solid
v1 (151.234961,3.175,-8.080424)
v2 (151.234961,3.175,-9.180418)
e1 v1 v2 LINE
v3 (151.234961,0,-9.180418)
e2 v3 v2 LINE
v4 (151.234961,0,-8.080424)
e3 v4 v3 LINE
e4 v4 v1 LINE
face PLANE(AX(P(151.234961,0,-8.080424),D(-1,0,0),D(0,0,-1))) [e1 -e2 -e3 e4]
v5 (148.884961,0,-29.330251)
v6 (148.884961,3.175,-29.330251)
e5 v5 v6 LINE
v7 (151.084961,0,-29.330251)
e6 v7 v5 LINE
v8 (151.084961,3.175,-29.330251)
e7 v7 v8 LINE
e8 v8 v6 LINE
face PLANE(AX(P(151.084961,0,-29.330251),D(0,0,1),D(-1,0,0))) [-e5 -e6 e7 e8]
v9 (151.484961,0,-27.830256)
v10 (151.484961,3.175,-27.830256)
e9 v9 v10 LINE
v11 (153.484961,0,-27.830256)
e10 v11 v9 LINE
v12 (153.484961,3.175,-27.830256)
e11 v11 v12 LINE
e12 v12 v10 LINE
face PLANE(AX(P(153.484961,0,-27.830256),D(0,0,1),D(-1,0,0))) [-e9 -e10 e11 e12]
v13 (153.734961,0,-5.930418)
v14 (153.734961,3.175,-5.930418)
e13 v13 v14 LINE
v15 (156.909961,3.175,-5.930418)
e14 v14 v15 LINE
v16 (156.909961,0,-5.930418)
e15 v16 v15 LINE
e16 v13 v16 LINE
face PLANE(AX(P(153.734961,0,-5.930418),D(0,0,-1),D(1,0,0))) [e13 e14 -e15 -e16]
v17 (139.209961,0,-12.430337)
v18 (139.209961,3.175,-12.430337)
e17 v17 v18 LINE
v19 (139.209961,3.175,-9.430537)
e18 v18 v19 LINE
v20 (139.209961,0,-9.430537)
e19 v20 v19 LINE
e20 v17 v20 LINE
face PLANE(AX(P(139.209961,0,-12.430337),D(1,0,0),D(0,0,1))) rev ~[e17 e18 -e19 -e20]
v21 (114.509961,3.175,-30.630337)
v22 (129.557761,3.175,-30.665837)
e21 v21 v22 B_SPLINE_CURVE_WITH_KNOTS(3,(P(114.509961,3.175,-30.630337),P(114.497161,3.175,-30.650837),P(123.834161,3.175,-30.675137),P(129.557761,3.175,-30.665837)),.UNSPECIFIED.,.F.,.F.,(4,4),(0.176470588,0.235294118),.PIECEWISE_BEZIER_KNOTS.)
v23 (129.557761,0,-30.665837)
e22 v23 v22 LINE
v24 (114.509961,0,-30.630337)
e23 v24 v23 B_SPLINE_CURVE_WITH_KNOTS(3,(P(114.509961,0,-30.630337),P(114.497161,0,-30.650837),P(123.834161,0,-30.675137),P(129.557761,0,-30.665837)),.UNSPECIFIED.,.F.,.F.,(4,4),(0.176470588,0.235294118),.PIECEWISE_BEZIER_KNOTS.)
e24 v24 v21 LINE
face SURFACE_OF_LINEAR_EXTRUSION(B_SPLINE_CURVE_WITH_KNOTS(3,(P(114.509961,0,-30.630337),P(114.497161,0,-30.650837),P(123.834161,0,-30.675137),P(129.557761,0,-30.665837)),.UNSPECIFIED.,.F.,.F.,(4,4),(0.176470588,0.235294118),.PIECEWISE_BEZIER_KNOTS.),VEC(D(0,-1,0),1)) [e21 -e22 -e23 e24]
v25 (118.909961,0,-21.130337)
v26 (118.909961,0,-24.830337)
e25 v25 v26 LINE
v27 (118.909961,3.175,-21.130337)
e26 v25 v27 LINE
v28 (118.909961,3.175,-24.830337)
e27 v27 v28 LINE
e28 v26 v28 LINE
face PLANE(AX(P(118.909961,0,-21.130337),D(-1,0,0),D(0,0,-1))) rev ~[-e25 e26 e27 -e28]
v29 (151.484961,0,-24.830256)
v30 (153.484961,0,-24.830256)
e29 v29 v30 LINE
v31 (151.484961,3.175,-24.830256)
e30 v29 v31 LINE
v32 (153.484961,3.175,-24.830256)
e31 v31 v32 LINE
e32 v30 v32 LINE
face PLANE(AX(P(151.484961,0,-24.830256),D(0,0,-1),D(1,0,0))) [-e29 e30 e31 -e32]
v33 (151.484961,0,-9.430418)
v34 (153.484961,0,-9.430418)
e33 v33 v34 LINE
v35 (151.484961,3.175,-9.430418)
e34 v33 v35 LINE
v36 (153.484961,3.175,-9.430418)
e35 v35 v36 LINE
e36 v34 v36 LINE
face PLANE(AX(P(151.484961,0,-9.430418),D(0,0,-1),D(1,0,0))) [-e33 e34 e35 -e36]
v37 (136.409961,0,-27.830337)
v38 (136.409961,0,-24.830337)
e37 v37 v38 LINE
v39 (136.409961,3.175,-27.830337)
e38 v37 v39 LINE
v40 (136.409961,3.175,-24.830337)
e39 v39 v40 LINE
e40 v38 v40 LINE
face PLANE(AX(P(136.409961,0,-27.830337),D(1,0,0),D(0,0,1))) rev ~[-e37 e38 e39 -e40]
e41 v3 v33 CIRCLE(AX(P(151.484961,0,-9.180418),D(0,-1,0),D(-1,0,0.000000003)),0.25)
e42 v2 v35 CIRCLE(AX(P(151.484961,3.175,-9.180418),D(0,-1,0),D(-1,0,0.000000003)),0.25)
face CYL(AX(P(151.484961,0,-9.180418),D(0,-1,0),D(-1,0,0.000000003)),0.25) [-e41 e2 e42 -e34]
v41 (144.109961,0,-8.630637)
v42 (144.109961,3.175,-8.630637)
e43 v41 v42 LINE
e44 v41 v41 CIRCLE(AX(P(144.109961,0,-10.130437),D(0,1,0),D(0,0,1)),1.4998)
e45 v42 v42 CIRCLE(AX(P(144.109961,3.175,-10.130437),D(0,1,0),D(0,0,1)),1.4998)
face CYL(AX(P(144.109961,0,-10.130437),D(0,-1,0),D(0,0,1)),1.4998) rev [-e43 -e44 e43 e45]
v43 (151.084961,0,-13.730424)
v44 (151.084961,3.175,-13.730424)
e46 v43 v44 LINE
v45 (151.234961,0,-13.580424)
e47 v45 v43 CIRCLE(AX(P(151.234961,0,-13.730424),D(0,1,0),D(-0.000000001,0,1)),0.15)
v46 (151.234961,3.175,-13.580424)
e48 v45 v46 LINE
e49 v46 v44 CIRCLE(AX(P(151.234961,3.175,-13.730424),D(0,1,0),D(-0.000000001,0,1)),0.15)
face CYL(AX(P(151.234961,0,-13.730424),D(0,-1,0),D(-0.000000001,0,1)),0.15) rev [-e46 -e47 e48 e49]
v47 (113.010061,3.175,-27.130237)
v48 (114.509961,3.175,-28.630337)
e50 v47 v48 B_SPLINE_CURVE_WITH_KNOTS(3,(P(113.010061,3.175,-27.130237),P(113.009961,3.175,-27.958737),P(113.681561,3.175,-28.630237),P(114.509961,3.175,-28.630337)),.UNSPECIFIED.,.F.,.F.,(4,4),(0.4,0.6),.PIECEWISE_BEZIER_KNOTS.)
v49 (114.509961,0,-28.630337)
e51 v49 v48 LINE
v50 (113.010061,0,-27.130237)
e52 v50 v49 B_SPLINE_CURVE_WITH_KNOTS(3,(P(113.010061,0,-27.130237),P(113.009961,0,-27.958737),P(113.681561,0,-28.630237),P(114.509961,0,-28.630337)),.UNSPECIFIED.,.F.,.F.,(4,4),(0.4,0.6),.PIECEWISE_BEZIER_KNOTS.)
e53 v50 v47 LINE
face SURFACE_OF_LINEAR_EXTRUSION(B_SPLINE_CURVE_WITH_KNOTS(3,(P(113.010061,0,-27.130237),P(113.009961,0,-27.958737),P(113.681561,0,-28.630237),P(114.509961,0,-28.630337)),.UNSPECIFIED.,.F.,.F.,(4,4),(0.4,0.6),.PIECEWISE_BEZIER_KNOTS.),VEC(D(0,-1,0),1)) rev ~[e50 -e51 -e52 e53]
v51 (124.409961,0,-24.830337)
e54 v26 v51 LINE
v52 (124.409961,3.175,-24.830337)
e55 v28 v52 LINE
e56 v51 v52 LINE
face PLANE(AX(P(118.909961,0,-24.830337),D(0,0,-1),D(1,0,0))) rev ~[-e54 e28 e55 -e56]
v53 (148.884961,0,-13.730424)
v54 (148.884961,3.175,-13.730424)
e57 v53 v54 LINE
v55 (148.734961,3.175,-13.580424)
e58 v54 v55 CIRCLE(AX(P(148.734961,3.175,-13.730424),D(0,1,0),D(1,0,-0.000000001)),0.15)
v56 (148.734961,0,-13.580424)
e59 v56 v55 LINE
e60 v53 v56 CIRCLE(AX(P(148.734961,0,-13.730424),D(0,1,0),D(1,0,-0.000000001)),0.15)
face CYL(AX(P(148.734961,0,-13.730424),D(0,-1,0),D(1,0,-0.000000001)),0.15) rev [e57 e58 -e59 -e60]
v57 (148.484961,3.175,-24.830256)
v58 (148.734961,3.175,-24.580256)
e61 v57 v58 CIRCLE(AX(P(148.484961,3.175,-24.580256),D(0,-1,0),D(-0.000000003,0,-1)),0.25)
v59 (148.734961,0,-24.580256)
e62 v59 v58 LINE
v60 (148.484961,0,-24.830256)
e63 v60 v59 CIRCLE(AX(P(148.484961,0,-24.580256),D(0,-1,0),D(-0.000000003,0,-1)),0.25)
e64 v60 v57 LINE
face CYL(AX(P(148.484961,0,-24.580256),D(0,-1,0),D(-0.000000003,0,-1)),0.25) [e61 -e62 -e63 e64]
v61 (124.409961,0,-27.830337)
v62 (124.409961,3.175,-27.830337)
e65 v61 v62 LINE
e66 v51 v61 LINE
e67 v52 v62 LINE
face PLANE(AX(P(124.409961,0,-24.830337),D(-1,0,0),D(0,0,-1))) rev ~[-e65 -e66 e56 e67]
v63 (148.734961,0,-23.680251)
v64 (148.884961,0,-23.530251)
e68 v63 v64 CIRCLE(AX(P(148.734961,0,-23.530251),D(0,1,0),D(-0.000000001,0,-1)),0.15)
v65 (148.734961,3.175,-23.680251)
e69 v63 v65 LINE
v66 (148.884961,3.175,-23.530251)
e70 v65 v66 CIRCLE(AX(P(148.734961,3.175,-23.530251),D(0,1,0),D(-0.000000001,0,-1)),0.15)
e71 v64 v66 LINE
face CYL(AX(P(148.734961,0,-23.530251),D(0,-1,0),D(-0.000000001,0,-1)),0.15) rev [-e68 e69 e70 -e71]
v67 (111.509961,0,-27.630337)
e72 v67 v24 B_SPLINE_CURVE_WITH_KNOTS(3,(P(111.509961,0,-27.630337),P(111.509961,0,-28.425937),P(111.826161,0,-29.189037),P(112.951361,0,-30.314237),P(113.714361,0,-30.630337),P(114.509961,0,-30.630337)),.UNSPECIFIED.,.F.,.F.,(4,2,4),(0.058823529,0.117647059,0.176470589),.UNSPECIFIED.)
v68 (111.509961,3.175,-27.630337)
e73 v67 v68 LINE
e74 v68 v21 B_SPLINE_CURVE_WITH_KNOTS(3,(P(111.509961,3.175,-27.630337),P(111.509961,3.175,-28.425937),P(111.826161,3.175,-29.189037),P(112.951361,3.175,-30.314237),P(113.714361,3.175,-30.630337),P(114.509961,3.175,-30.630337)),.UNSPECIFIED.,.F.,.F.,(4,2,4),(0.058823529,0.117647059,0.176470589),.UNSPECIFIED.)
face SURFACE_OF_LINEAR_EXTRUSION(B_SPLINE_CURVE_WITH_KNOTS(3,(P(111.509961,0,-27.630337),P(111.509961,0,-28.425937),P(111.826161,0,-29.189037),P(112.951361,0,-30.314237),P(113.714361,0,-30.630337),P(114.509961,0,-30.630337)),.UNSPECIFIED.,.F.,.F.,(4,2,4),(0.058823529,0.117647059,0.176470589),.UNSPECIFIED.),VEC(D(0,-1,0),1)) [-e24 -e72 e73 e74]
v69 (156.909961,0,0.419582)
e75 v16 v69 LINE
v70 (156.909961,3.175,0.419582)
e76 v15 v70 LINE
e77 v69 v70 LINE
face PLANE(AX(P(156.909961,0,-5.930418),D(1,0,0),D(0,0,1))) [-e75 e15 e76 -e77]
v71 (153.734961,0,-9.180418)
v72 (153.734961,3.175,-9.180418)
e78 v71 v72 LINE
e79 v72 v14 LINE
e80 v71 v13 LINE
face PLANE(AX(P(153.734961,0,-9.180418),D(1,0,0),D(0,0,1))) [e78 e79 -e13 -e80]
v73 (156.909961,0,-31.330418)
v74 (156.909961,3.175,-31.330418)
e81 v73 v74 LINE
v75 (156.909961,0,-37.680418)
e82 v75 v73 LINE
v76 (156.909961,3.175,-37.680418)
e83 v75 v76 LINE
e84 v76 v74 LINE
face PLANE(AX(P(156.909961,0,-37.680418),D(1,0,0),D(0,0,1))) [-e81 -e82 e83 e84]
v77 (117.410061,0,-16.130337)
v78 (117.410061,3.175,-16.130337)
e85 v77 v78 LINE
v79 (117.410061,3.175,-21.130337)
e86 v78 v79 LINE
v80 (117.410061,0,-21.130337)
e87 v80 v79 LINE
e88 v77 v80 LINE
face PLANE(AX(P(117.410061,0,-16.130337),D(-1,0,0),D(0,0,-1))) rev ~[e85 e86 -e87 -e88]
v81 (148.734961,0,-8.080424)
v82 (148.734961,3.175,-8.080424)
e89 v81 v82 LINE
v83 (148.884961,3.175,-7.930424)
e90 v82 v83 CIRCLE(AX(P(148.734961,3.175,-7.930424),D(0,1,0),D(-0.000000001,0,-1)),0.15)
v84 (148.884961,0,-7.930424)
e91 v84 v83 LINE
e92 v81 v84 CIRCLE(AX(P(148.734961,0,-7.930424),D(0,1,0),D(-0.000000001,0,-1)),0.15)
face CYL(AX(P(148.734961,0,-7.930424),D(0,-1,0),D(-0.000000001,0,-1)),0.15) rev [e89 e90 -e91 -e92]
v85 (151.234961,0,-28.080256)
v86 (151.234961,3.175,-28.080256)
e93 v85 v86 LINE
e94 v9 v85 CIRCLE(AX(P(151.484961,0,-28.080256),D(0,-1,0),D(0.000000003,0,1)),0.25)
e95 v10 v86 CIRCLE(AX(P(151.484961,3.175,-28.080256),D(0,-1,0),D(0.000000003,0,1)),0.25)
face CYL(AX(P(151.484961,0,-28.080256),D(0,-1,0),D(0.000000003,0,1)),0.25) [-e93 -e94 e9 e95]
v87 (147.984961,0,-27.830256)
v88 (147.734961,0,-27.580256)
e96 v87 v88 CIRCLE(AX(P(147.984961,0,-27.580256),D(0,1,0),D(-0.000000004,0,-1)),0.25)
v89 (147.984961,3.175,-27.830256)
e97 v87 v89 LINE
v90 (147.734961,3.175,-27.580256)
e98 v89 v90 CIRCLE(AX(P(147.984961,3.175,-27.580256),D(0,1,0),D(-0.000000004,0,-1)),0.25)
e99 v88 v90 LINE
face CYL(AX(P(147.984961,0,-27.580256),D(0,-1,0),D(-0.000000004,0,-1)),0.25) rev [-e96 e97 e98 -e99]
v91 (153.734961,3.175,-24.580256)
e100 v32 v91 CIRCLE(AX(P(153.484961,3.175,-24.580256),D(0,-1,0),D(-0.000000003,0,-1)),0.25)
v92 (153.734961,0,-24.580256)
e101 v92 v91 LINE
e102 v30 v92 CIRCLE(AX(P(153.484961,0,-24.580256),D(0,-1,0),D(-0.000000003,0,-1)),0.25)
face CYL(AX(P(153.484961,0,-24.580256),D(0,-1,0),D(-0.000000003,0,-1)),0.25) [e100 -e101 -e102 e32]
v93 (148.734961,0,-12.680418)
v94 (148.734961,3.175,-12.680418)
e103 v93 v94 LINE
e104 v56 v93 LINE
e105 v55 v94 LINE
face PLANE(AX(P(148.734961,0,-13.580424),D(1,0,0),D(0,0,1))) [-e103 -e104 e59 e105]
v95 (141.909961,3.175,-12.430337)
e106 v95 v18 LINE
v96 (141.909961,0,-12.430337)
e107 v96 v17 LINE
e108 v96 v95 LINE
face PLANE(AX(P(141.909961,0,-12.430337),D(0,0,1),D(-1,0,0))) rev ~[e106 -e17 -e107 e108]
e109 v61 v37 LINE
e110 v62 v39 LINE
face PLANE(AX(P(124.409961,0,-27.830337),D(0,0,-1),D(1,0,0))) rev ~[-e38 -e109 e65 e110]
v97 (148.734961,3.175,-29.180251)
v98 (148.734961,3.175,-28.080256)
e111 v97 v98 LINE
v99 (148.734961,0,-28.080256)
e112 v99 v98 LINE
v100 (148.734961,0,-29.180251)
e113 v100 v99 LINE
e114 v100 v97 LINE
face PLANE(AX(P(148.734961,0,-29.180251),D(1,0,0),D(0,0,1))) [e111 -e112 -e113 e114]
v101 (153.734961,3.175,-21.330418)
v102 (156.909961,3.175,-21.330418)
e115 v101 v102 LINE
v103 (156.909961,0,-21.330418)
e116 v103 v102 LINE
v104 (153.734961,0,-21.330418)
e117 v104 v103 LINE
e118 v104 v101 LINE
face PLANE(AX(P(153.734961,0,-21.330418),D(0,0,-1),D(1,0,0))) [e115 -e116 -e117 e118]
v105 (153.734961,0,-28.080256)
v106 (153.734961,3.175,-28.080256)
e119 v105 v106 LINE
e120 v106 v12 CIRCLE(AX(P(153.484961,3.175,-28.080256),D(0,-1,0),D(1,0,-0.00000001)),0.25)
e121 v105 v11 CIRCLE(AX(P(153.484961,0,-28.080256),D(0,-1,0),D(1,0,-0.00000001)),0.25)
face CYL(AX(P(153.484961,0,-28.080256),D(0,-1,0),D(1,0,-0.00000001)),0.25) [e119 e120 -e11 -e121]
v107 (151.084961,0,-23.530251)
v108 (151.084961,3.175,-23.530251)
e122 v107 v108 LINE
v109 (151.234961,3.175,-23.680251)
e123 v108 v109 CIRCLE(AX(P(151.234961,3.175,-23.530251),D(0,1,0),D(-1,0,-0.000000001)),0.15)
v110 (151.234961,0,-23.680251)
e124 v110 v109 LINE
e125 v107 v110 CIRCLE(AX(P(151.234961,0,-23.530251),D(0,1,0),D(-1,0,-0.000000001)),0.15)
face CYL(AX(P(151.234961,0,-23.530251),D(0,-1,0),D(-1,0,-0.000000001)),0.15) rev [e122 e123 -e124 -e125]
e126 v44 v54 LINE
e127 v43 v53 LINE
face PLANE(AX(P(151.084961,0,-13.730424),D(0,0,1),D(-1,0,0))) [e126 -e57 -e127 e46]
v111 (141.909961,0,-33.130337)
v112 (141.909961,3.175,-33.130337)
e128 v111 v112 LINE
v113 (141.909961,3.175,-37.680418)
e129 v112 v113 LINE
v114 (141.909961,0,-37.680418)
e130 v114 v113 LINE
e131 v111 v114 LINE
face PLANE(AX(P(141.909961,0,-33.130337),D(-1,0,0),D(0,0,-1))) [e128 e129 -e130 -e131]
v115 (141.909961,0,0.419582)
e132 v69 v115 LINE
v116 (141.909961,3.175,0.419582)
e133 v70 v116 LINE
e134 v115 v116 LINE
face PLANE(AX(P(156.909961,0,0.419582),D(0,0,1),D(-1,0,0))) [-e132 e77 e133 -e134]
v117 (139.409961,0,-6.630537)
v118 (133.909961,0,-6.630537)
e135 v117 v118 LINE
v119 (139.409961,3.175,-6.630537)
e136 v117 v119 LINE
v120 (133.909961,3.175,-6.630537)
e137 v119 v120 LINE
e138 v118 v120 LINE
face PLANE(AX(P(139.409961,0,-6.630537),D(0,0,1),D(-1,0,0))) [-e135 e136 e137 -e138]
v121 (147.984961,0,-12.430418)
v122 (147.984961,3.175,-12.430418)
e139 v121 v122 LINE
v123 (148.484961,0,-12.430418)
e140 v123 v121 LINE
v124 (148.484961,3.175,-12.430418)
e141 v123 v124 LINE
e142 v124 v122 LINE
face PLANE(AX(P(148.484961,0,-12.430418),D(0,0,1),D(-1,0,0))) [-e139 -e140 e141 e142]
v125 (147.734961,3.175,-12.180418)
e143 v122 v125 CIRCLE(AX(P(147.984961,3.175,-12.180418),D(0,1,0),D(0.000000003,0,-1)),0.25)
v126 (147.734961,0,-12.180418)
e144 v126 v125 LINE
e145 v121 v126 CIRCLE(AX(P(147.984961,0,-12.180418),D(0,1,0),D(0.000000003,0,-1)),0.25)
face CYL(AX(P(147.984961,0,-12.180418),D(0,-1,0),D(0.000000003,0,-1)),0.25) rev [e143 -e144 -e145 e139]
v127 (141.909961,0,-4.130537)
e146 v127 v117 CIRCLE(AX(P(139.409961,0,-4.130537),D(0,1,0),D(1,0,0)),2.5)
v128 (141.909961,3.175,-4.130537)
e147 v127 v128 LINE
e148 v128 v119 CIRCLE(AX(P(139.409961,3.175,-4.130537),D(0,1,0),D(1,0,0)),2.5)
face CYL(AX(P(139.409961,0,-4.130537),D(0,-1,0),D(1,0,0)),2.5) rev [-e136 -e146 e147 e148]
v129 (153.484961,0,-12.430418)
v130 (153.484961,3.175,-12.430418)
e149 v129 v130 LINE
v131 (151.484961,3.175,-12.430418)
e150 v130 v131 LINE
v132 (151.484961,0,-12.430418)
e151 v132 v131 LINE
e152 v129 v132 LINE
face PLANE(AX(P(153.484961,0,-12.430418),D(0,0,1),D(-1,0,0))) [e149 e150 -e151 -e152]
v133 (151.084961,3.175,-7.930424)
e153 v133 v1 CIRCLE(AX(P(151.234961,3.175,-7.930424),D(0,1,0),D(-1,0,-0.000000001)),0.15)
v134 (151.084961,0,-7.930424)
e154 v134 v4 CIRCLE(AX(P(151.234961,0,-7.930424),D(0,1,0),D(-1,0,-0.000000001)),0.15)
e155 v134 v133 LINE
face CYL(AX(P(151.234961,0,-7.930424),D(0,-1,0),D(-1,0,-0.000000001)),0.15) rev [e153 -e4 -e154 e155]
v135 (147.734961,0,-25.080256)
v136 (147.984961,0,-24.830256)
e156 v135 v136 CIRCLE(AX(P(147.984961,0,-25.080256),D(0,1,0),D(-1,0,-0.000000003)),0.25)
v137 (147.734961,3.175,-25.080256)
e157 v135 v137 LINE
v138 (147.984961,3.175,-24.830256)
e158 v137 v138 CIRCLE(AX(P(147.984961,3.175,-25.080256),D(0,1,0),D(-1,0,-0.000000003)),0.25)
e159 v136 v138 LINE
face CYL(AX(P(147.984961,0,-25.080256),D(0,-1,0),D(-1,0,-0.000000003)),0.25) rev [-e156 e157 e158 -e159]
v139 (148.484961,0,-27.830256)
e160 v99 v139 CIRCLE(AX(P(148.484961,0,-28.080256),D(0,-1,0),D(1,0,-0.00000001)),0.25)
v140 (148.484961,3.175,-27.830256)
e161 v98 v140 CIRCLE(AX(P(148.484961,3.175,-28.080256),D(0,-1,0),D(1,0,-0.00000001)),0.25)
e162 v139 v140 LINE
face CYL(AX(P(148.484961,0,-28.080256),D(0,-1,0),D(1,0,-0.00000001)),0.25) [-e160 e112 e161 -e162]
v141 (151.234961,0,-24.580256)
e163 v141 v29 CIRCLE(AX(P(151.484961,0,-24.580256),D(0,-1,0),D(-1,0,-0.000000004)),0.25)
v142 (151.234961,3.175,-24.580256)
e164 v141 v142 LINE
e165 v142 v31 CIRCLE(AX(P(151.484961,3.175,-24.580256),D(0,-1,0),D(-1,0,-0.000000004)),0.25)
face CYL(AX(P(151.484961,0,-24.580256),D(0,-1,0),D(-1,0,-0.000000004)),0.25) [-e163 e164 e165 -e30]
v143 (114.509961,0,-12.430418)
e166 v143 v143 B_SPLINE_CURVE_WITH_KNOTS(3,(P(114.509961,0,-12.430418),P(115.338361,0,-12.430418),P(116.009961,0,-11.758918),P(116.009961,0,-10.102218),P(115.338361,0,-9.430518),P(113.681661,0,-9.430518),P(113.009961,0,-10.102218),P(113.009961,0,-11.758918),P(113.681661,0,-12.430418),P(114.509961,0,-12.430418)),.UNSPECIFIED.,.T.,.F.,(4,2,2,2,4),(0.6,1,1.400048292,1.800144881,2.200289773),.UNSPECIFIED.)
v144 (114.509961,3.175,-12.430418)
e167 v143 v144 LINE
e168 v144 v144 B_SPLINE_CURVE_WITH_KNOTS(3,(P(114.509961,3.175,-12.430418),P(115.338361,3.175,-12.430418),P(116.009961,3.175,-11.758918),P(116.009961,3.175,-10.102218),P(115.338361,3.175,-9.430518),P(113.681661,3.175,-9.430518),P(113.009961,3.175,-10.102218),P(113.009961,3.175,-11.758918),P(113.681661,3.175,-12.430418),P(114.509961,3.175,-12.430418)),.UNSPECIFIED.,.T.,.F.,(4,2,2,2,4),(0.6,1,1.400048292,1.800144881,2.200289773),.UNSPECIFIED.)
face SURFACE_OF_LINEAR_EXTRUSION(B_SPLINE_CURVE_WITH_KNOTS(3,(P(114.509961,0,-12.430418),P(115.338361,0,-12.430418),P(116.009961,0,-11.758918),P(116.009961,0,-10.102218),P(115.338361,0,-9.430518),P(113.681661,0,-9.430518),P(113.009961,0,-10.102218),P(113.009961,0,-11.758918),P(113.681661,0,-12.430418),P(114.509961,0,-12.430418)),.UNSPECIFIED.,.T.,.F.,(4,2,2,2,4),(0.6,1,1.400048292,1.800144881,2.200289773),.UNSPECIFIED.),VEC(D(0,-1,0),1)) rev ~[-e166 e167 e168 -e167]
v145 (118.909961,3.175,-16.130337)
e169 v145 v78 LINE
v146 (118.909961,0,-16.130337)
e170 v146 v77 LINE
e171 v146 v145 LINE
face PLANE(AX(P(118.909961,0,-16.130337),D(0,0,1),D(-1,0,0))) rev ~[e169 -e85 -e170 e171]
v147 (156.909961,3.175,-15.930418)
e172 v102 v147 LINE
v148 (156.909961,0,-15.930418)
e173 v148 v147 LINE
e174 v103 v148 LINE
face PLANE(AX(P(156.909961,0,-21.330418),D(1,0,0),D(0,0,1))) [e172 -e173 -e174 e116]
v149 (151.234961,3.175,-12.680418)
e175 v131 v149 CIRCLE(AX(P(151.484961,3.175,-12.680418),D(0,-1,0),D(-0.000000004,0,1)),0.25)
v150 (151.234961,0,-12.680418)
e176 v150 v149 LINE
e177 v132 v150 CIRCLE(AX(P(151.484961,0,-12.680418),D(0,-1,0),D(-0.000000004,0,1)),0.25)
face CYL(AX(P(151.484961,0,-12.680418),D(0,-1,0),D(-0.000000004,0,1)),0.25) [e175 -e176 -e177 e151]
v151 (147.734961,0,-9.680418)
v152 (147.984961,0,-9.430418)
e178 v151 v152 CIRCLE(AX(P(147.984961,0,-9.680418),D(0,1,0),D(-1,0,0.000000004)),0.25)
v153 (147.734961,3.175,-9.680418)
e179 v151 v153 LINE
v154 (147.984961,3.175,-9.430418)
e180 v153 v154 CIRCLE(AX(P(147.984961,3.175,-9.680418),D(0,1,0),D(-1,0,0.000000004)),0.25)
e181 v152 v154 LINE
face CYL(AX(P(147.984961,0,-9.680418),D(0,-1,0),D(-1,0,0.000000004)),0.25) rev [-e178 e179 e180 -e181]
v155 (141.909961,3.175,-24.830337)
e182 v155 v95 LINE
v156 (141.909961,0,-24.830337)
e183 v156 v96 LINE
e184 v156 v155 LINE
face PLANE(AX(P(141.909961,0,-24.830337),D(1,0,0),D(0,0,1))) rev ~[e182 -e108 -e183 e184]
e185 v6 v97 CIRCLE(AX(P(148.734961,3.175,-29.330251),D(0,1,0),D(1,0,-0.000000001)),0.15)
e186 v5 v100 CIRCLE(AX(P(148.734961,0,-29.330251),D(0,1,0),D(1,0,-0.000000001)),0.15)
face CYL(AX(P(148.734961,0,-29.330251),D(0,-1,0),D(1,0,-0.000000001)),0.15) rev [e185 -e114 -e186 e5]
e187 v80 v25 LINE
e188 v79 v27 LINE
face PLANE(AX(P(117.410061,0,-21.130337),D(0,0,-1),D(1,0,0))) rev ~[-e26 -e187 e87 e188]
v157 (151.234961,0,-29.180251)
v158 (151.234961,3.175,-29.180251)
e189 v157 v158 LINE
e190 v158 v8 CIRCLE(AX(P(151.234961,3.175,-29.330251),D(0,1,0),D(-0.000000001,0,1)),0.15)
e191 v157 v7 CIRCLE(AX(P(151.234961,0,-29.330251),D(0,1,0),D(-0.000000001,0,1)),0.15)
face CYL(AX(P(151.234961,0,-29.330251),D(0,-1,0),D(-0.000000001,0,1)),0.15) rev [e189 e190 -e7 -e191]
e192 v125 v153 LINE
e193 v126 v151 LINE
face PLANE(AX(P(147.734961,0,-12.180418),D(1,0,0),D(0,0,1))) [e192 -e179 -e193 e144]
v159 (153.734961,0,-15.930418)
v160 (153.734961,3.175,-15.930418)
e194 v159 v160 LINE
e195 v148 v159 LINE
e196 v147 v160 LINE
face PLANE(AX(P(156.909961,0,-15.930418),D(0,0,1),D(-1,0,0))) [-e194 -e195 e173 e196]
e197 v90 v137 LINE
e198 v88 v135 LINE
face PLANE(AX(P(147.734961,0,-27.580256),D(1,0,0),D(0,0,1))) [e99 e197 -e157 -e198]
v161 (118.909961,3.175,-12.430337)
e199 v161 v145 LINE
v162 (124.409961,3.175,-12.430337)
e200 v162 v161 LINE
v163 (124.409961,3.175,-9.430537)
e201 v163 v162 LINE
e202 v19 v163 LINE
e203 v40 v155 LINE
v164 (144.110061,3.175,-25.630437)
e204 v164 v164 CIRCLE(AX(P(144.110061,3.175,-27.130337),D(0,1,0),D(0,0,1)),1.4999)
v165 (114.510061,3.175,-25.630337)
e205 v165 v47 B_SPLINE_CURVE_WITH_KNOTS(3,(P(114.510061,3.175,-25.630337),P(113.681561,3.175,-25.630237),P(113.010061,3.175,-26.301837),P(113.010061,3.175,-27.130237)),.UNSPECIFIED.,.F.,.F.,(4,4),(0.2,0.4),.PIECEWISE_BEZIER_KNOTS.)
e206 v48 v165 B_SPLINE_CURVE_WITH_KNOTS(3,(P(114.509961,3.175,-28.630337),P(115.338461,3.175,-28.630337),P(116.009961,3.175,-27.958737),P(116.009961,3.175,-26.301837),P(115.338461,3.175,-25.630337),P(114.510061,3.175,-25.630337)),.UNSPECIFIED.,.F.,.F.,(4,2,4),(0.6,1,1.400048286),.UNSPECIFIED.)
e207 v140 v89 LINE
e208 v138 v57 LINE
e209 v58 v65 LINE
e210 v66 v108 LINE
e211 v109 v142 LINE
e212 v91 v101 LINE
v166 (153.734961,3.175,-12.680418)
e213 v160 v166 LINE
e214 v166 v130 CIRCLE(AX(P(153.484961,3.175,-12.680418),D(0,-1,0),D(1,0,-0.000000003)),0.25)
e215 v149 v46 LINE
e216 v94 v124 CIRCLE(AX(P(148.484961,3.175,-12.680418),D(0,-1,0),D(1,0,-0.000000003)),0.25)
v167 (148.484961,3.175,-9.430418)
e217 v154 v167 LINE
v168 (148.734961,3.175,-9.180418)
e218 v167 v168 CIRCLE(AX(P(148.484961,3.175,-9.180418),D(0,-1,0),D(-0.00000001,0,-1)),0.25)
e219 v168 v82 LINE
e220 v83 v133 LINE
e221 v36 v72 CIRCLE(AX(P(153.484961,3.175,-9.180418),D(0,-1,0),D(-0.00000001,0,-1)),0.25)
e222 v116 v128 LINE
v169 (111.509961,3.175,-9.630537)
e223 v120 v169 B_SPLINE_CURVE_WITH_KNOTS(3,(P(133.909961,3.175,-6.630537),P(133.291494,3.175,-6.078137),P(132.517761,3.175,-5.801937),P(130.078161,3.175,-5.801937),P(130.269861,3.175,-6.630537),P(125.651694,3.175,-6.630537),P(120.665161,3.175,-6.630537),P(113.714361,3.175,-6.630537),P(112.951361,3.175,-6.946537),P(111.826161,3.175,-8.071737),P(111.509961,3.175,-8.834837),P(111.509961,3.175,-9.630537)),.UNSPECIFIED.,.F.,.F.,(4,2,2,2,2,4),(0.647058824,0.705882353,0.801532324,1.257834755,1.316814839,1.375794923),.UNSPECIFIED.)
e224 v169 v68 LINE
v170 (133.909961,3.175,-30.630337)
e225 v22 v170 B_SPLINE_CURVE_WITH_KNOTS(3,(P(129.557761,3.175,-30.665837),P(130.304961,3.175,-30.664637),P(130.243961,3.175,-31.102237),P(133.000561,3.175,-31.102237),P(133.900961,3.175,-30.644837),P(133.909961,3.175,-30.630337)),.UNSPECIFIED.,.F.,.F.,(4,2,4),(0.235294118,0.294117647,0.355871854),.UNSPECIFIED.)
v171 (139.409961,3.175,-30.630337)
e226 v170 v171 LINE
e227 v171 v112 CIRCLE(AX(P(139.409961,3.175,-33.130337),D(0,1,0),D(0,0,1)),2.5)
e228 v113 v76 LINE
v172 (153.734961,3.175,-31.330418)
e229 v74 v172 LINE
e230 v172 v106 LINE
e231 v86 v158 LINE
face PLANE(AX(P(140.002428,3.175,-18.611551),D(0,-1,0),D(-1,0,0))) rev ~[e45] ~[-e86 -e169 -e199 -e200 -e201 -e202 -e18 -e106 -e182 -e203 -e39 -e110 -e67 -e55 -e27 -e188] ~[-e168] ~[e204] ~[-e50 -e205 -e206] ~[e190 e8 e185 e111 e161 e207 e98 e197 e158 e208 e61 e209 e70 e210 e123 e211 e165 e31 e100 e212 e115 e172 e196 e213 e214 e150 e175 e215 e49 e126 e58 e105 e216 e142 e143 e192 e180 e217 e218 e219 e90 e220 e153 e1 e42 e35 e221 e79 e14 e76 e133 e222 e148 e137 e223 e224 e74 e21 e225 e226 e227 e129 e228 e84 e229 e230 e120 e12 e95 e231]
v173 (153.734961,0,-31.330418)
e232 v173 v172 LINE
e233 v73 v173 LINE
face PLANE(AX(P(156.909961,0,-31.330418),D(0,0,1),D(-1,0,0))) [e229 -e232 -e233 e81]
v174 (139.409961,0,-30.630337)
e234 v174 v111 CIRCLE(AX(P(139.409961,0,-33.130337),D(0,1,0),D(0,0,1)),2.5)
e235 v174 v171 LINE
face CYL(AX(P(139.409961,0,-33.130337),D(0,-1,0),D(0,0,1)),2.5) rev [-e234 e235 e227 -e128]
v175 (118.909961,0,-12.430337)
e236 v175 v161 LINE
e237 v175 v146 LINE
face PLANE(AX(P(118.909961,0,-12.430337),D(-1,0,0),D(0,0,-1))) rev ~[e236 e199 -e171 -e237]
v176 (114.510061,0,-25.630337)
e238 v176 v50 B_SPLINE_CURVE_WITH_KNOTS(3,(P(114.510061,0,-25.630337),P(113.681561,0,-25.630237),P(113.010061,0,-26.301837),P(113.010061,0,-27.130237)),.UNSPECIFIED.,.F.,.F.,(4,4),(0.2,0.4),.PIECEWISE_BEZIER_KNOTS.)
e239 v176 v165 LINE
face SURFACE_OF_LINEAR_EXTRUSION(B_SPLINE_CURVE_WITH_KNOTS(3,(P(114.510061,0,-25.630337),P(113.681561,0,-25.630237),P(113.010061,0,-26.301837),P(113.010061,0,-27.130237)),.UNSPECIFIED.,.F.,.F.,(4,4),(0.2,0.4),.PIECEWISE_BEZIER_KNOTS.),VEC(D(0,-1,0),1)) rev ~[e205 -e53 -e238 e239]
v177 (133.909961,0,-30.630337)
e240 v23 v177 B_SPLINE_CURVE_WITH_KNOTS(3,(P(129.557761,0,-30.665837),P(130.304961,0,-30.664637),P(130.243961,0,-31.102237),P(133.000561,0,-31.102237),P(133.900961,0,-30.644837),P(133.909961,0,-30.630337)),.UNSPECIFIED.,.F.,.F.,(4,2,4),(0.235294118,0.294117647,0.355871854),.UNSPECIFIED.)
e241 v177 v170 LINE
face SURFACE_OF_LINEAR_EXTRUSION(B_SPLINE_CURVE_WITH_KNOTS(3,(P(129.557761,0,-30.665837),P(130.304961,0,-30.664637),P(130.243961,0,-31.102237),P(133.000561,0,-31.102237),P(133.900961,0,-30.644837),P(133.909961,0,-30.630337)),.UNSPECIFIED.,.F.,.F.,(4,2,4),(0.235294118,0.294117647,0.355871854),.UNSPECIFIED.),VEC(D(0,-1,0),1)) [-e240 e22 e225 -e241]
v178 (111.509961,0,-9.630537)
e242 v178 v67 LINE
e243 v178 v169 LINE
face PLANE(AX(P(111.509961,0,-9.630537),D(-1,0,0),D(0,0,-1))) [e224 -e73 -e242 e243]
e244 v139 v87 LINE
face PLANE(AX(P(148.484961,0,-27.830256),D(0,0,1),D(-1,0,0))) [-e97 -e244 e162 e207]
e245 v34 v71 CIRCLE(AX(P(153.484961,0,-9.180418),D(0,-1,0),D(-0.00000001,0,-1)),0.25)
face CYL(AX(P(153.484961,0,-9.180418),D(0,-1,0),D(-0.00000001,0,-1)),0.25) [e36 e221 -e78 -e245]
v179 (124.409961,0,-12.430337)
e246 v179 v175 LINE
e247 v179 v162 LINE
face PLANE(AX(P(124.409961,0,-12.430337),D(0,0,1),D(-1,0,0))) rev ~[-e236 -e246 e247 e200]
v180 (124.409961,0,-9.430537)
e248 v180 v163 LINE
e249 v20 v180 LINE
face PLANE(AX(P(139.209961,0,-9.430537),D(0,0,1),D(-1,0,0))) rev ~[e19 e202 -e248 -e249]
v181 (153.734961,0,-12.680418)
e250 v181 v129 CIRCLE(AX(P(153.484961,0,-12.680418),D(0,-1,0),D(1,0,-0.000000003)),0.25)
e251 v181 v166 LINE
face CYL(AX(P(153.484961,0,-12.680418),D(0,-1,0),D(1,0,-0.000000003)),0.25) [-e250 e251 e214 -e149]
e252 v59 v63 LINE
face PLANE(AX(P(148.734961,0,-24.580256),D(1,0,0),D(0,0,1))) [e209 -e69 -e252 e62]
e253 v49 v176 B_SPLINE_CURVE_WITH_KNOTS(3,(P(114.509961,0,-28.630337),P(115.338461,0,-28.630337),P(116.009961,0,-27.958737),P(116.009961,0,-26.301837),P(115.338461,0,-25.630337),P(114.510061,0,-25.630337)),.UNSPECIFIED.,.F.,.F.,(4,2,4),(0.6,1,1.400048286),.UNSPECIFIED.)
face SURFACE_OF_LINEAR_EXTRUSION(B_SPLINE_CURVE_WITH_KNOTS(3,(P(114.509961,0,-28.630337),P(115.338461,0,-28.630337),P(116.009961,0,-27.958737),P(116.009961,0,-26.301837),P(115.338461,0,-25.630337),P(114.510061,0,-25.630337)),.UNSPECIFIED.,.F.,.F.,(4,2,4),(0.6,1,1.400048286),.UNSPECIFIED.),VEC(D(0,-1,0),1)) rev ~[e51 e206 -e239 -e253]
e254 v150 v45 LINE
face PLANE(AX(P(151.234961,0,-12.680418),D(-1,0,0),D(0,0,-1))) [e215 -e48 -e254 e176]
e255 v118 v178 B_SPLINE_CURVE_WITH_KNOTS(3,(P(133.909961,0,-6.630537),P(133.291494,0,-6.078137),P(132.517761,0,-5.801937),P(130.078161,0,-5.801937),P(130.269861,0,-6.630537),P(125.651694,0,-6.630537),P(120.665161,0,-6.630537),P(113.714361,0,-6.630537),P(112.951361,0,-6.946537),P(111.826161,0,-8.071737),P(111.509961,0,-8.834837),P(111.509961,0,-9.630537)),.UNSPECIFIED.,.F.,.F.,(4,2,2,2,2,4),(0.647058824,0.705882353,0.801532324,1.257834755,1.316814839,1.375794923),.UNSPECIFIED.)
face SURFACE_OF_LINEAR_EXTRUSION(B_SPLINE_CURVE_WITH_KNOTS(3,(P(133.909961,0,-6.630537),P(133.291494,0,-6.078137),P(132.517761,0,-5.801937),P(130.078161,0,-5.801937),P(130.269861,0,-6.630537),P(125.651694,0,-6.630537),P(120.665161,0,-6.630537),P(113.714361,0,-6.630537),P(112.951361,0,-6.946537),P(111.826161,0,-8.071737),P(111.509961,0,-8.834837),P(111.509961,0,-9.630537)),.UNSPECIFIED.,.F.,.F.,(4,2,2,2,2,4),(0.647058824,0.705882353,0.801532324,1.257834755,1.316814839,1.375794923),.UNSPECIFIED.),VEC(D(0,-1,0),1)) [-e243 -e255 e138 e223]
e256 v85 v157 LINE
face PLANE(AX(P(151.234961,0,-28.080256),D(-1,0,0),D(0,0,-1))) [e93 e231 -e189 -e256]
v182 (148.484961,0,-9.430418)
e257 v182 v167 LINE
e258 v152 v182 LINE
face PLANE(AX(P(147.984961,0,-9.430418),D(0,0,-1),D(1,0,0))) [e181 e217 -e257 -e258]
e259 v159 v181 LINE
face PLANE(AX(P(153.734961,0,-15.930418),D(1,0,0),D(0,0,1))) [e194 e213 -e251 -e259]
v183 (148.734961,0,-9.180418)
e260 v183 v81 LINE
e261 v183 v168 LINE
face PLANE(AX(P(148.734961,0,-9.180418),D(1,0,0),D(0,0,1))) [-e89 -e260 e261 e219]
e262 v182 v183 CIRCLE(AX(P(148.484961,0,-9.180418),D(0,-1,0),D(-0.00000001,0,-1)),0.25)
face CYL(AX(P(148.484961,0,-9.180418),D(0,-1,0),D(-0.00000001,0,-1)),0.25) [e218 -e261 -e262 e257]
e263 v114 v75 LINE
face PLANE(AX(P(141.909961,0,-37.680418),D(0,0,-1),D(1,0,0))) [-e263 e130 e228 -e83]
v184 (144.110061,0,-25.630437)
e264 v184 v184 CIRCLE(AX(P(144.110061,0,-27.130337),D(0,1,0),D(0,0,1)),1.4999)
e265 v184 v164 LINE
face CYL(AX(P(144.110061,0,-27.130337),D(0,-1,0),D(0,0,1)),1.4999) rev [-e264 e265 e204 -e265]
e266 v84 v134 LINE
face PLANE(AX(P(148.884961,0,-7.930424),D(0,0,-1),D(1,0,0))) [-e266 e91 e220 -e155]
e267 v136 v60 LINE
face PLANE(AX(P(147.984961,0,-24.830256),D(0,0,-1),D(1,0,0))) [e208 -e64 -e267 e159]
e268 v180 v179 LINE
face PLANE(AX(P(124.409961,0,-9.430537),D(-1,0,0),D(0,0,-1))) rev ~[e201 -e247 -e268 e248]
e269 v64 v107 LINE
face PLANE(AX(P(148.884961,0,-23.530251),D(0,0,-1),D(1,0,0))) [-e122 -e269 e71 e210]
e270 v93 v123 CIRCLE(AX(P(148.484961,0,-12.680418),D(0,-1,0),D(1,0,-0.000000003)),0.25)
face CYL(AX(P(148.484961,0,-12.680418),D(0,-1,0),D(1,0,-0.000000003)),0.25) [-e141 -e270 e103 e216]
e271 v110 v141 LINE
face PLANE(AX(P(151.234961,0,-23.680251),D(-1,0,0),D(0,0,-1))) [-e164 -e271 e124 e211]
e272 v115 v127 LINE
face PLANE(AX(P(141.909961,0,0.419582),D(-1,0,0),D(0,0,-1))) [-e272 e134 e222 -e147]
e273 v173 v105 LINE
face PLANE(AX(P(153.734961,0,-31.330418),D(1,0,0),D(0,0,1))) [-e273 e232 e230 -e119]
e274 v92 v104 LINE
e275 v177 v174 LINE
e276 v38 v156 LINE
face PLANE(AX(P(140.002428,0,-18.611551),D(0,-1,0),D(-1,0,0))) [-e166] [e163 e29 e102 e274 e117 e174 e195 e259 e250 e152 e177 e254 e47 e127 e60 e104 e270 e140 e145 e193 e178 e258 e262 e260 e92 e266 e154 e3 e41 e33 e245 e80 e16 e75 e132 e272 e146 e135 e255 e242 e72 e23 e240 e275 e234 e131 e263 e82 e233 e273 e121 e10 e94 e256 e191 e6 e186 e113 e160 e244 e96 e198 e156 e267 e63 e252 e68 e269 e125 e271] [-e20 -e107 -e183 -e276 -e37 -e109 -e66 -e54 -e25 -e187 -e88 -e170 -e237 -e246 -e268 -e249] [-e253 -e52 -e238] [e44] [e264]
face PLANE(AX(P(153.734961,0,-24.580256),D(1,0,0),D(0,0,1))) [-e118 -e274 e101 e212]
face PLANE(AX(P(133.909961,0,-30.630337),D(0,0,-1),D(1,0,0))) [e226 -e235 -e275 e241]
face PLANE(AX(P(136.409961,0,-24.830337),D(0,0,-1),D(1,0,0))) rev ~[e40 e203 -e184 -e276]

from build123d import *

# Parameters (mm, degrees)
SKETCH1_R           = 1.4998
SKETCH1_R_2         = 1.499900003
BOSS_EXTRUDE1_DEPTH = 3.175


with BuildPart() as part:
    # Sketch1 → Boss-Extrude1 (new body)
    with BuildSketch(Plane(origin=(0, 0, 0), x_dir=(1, 0, 0), z_dir=(0, 1, 0))):
        with BuildLine():
            Line((141.909960584, 37.680418232), (156.909960584, 37.680418232))
            Line((156.909960584, 37.680418232), (156.909960584, 31.330418232))
            Line((156.909960584, 31.330418232), (153.734960584, 31.330418232))
            Line((153.734960584, 31.330418232), (153.734960584, 28.080256219))
            ThreePointArc((153.734960584, 28.080256219), (153.66173728, 27.903479523), (153.484960584, 27.830256219))
            Line((153.484960584, 27.830256219), (151.484960584, 27.830256219))
            ThreePointArc((151.484960584, 27.830256219), (151.308183889, 27.903479523), (151.234960584, 28.080256219))
            Line((151.234960584, 28.080256219), (151.234960584, 29.126094713))
            Line((151.234960584, 29.126094713), (151.234960584, 29.180250843))
            ThreePointArc((151.234960584, 29.180250843), (151.341026602, 29.43631686), (151.084960584, 29.330250843))
            Line((151.084960584, 29.330250843), (150.975152963, 29.330250843))
            Line((150.975152963, 29.330250843), (148.884960584, 29.330250843))
            ThreePointArc((148.884960584, 29.330250843), (148.628894567, 29.43631686), (148.734960584, 29.180250843))
            Line((148.734960584, 29.180250843), (148.734960584, 29.126094713))
            Line((148.734960584, 29.126094713), (148.734960584, 28.080256219))
            ThreePointArc((148.734960584, 28.080256219), (148.66173728, 27.903479523), (148.484960584, 27.830256219))
            Line((148.484960584, 27.830256219), (147.984960584, 27.830256219))
            ThreePointArc((147.984960584, 27.830256219), (147.808183889, 27.757032914), (147.734960584, 27.580256219))
            Line((147.734960584, 27.580256219), (147.734960584, 25.080256219))
            ThreePointArc((147.734960584, 25.080256219), (147.808183889, 24.903479523), (147.984960584, 24.830256219))
            Line((147.984960584, 24.830256219), (148.484960584, 24.830256219))
            ThreePointArc((148.484960584, 24.830256219), (148.66173728, 24.757032914), (148.734960584, 24.580256219))
            Line((148.734960584, 24.580256219), (148.734960584, 23.755250843))
            Line((148.734960584, 23.755250843), (148.734960584, 23.680250843))
            ThreePointArc((148.734960584, 23.680250843), (148.628894567, 23.424184826), (148.884960584, 23.530250843))
            Line((148.884960584, 23.530250843), (150.975152963, 23.530250843))
            Line((150.975152963, 23.530250843), (151.084960584, 23.530250843))
            ThreePointArc((151.084960584, 23.530250843), (151.341026602, 23.424184826), (151.234960584, 23.680250843))
            Line((151.234960584, 23.680250843), (151.234960584, 23.755250843))
            Line((151.234960584, 23.755250843), (151.234960584, 24.580256219))
            ThreePointArc((151.234960584, 24.580256219), (151.308183889, 24.757032914), (151.484960584, 24.830256219))
            Line((151.484960584, 24.830256219), (153.484960584, 24.830256219))
            ThreePointArc((153.484960584, 24.830256219), (153.66173728, 24.757032914), (153.734960584, 24.580256219))
            Line((153.734960584, 24.580256219), (153.734960584, 21.330418232))
            Line((153.734960584, 21.330418232), (156.909960584, 21.330418232))
            Line((156.909960584, 21.330418232), (156.909960584, 15.930418232))
            Line((156.909960584, 15.930418232), (153.734960584, 15.930418232))
            Line((153.734960584, 15.930418232), (153.734960584, 12.680418232))
            ThreePointArc((153.734960584, 12.680418232), (153.66173728, 12.503641537), (153.484960584, 12.430418232))
            Line((153.484960584, 12.430418232), (151.484960584, 12.430418232))
            ThreePointArc((151.484960584, 12.430418232), (151.308183889, 12.503641537), (151.234960584, 12.680418232))
            Line((151.234960584, 12.680418232), (151.234960584, 13.505423608))
            Line((151.234960584, 13.505423608), (151.234960584, 13.580423608))
            ThreePointArc((151.234960584, 13.580423608), (151.341026602, 13.836489625), (151.084960584, 13.730423608))
            Line((151.084960584, 13.730423608), (150.975152963, 13.730423608))
            Line((150.975152963, 13.730423608), (148.884960584, 13.730423608))
            ThreePointArc((148.884960584, 13.730423608), (148.628894567, 13.836489625), (148.734960584, 13.580423608))
            Line((148.734960584, 13.580423608), (148.734960584, 13.505423608))
            Line((148.734960584, 13.505423608), (148.734960584, 12.680418232))
            ThreePointArc((148.734960584, 12.680418232), (148.66173728, 12.503641537), (148.484960584, 12.430418232))
            Line((148.484960584, 12.430418232), (147.984960584, 12.430418232))
            ThreePointArc((147.984960584, 12.430418232), (147.808183889, 12.357194928), (147.734960584, 12.180418232))
            Line((147.734960584, 12.180418232), (147.734960584, 9.680418232))
            ThreePointArc((147.734960584, 9.680418232), (147.808183889, 9.503641537), (147.984960584, 9.430418232))
            Line((147.984960584, 9.430418232), (148.484960584, 9.430418232))
            ThreePointArc((148.484960584, 9.430418232), (148.66173728, 9.357194928), (148.734960584, 9.180418232))
            Line((148.734960584, 9.180418232), (148.734960584, 8.134579738))
            Line((148.734960584, 8.134579738), (148.734960584, 8.080423608))
            ThreePointArc((148.734960584, 8.080423608), (148.628894567, 7.824357591), (148.884960584, 7.930423608))
            Line((148.884960584, 7.930423608), (150.975152963, 7.930423608))
            Line((150.975152963, 7.930423608), (151.084960584, 7.930423608))
            ThreePointArc((151.084960584, 7.930423608), (151.341026602, 7.824357591), (151.234960584, 8.080423608))
            Line((151.234960584, 8.080423608), (151.234960584, 8.134579738))
            Line((151.234960584, 8.134579738), (151.234960584, 9.180418232))
            ThreePointArc((151.234960584, 9.180418232), (151.308183889, 9.357194928), (151.484960584, 9.430418232))
            Line((151.484960584, 9.430418232), (153.484960584, 9.430418232))
            ThreePointArc((153.484960584, 9.430418232), (153.66173728, 9.357194928), (153.734960584, 9.180418232))
            Line((153.734960584, 9.180418232), (153.734960584, 5.930418232))
            Line((153.734960584, 5.930418232), (156.909960584, 5.930418232))
            Line((156.909960584, 5.930418232), (156.909960584, -0.419581768))
            Line((156.909960584, -0.419581768), (141.909960584, -0.419581768))
            Line((141.909960584, -0.419581768), (141.909960584, 4.130537226))
            ThreePointArc((141.909960584, 4.130537226), (141.177727537, 5.898304179), (139.409960584, 6.630537226))
            Line((139.409960584, 6.630537226), (133.909960584, 6.630537226))
            add(Edge.make_bspline(
                [(133.909960584, 6.630537226), (132.982260584, 5.801937226), (131.588760584, 5.801937226)],
                knots=[0.647058824, 0.647058824, 0.647058824, 0.705882353, 0.705882353, 0.705882353], degree=2))
            add(Edge.make_bspline(
                [(131.588760584, 5.801937226), (130.078160584, 5.801937226), (130.269860584, 6.630537226), (129.469560584, 6.630537226)],
                knots=[0.705882353, 0.705882353, 0.705882353, 0.705882353, 0.764705882, 0.764705882, 0.764705882, 0.764705882], degree=3))
            add(Edge.make_bspline(
                [(129.469560584, 6.630537226), (123.742760584, 6.630537226), (114.509960584, 6.630537226)],
                knots=[0.764705882, 0.764705882, 0.764705882, 0.823529412, 0.823529412, 0.823529412], degree=2))
            add(Edge.make_bspline(
                [(114.509960584, 6.630537226), (113.714360584, 6.630537226), (112.951360584, 6.946537226), (112.388760584, 7.509137226)],
                knots=[0.823529412, 0.823529412, 0.823529412, 0.823529412, 0.882352941, 0.882352941, 0.882352941, 0.882352941], degree=3))
            add(Edge.make_bspline(
                [(112.388760584, 7.509137226), (111.826160584, 8.071737226), (111.509960584, 8.834837226), (111.509960584, 9.630537226)],
                knots=[0.882352941, 0.882352941, 0.882352941, 0.882352941, 1, 1, 1, 1], degree=3))
            Line((111.509960584, 9.630537226), (111.509960584, 27.630337226))
            add(Edge.make_bspline(
                [(111.509960584, 27.630337226), (111.509960584, 28.425937226), (111.826160584, 29.189037226), (112.388760584, 29.751637226)],
                knots=[0.058823529, 0.058823529, 0.058823529, 0.058823529, 0.117647059, 0.117647059, 0.117647059, 0.117647059], degree=3))
            add(Edge.make_bspline(
                [(112.388760584, 29.751637226), (112.951360584, 30.314237226), (113.714360584, 30.630337226), (114.509960584, 30.630337226)],
                knots=[0.117647059, 0.117647059, 0.117647059, 0.117647059, 0.176470588, 0.176470588, 0.176470588, 0.176470588], degree=3))
            add(Edge.make_bspline(
                [(114.509960584, 30.630337226), (114.497160584, 30.650837226), (123.834160584, 30.675137226), (129.557760584, 30.665837226)],
                knots=[0.176470588, 0.176470588, 0.176470588, 0.176470588, 0.235294118, 0.235294118, 0.235294118, 0.235294118], degree=3))
            add(Edge.make_bspline(
                [(129.557760584, 30.665837226), (130.304960584, 30.664637226), (130.243960584, 31.102237226), (131.588760584, 31.102237226)],
                knots=[0.235294118, 0.235294118, 0.235294118, 0.235294118, 0.294117647, 0.294117647, 0.294117647, 0.294117647], degree=3))
            add(Edge.make_bspline(
                [(131.588760584, 31.102237226), (133.000560584, 31.102237226), (133.900960584, 30.644837226), (133.909960584, 30.630337226)],
                knots=[0.294117647, 0.294117647, 0.294117647, 0.294117647, 0.352941176, 0.352941176, 0.352941176, 0.352941176], degree=3))
            Line((133.909960584, 30.630337226), (139.409960584, 30.630337226))
            ThreePointArc((139.409960584, 30.630337226), (141.177727537, 31.362570273), (141.909960584, 33.130337226))
            Line((141.909960584, 33.130337226), (141.909960584, 37.680418232))
        make_face()
        with Locations(Location((144.109960584, 10.130437226, 0), (0, 0, 270))):
            Circle(SKETCH1_R, mode=Mode.SUBTRACT)
        with Locations(Location((144.110060584, 27.130337226, 0), (0, 0, 270))):
            Circle(SKETCH1_R_2, mode=Mode.SUBTRACT)
        Polygon((141.909960584, 24.830337226), (141.909960584, 12.430337226), (139.209960584, 12.430337226), (139.209960584, 9.430537226), (124.409960584, 9.430537226), (124.409960584, 12.430337226), (118.909960584, 12.430337226), (118.909960584, 16.130337226), (117.410060584, 16.130337226), (117.410060584, 21.130337226), (118.909960584, 21.130337226), (118.909960584, 24.830337226), (124.409960584, 24.830337226), (124.409960584, 27.830337226), (136.409960584, 27.830337226), (136.409960584, 24.830337226), align=None, mode=Mode.SUBTRACT)
        with BuildLine():
            add(Edge.make_bspline(
                [(116.009960584, 27.130337226), (116.009960584, 26.301837226), (115.338460584, 25.630337226), (114.510060584, 25.630337226)],
                knots=[0, 0, 0, 0, 0.2, 0.2, 0.2, 0.2], degree=3))
            add(Edge.make_bspline(
                [(114.510060584, 25.630337226), (113.681560584, 25.630237226), (113.010060584, 26.301837226), (113.010060584, 27.130237226)],
                knots=[0.2, 0.2, 0.2, 0.2, 0.4, 0.4, 0.4, 0.4], degree=3))
            add(Edge.make_bspline(
                [(113.010060584, 27.130237226), (113.009960584, 27.958737226), (113.681560584, 28.630237226), (114.509960584, 28.630337226)],
                knots=[0.4, 0.4, 0.4, 0.4, 0.6, 0.6, 0.6, 0.6], degree=3))
            add(Edge.make_bspline(
                [(114.509960584, 28.630337226), (115.338460584, 28.630337226), (116.009960584, 27.958737226), (116.009960584, 27.130337226)],
                knots=[0.6, 0.6, 0.6, 0.6, 1, 1, 1, 1], degree=3))
        make_face(mode=Mode.SUBTRACT)
        with BuildLine():
            add(Edge.make_bspline(
                [(116.009960584, 10.930618232), (116.009960584, 10.102218232), (115.338360584, 9.430518232), (114.510060584, 9.430518232)],
                knots=[0, 0, 0, 0, 0.2, 0.2, 0.2, 0.2], degree=3))
            add(Edge.make_bspline(
                [(114.510060584, 9.430518232), (113.681660584, 9.430518232), (113.009960584, 10.102218232), (113.009960584, 10.930518232)],
                knots=[0.2, 0.2, 0.2, 0.2, 0.4, 0.4, 0.4, 0.4], degree=3))
            add(Edge.make_bspline(
                [(113.009960584, 10.930518232), (113.009960584, 11.758918232), (113.681660584, 12.430418232), (114.509960584, 12.430418232)],
                knots=[0.4, 0.4, 0.4, 0.4, 0.6, 0.6, 0.6, 0.6], degree=3))
            add(Edge.make_bspline(
                [(114.509960584, 12.430418232), (115.338360584, 12.430418232), (116.009960584, 11.758918232), (116.009960584, 10.930618232)],
                knots=[0.6, 0.6, 0.6, 0.6, 1, 1, 1, 1], degree=3))
        make_face(mode=Mode.SUBTRACT)
    extrude(amount=BOSS_EXTRUDE1_DEPTH)


solid = part.part
